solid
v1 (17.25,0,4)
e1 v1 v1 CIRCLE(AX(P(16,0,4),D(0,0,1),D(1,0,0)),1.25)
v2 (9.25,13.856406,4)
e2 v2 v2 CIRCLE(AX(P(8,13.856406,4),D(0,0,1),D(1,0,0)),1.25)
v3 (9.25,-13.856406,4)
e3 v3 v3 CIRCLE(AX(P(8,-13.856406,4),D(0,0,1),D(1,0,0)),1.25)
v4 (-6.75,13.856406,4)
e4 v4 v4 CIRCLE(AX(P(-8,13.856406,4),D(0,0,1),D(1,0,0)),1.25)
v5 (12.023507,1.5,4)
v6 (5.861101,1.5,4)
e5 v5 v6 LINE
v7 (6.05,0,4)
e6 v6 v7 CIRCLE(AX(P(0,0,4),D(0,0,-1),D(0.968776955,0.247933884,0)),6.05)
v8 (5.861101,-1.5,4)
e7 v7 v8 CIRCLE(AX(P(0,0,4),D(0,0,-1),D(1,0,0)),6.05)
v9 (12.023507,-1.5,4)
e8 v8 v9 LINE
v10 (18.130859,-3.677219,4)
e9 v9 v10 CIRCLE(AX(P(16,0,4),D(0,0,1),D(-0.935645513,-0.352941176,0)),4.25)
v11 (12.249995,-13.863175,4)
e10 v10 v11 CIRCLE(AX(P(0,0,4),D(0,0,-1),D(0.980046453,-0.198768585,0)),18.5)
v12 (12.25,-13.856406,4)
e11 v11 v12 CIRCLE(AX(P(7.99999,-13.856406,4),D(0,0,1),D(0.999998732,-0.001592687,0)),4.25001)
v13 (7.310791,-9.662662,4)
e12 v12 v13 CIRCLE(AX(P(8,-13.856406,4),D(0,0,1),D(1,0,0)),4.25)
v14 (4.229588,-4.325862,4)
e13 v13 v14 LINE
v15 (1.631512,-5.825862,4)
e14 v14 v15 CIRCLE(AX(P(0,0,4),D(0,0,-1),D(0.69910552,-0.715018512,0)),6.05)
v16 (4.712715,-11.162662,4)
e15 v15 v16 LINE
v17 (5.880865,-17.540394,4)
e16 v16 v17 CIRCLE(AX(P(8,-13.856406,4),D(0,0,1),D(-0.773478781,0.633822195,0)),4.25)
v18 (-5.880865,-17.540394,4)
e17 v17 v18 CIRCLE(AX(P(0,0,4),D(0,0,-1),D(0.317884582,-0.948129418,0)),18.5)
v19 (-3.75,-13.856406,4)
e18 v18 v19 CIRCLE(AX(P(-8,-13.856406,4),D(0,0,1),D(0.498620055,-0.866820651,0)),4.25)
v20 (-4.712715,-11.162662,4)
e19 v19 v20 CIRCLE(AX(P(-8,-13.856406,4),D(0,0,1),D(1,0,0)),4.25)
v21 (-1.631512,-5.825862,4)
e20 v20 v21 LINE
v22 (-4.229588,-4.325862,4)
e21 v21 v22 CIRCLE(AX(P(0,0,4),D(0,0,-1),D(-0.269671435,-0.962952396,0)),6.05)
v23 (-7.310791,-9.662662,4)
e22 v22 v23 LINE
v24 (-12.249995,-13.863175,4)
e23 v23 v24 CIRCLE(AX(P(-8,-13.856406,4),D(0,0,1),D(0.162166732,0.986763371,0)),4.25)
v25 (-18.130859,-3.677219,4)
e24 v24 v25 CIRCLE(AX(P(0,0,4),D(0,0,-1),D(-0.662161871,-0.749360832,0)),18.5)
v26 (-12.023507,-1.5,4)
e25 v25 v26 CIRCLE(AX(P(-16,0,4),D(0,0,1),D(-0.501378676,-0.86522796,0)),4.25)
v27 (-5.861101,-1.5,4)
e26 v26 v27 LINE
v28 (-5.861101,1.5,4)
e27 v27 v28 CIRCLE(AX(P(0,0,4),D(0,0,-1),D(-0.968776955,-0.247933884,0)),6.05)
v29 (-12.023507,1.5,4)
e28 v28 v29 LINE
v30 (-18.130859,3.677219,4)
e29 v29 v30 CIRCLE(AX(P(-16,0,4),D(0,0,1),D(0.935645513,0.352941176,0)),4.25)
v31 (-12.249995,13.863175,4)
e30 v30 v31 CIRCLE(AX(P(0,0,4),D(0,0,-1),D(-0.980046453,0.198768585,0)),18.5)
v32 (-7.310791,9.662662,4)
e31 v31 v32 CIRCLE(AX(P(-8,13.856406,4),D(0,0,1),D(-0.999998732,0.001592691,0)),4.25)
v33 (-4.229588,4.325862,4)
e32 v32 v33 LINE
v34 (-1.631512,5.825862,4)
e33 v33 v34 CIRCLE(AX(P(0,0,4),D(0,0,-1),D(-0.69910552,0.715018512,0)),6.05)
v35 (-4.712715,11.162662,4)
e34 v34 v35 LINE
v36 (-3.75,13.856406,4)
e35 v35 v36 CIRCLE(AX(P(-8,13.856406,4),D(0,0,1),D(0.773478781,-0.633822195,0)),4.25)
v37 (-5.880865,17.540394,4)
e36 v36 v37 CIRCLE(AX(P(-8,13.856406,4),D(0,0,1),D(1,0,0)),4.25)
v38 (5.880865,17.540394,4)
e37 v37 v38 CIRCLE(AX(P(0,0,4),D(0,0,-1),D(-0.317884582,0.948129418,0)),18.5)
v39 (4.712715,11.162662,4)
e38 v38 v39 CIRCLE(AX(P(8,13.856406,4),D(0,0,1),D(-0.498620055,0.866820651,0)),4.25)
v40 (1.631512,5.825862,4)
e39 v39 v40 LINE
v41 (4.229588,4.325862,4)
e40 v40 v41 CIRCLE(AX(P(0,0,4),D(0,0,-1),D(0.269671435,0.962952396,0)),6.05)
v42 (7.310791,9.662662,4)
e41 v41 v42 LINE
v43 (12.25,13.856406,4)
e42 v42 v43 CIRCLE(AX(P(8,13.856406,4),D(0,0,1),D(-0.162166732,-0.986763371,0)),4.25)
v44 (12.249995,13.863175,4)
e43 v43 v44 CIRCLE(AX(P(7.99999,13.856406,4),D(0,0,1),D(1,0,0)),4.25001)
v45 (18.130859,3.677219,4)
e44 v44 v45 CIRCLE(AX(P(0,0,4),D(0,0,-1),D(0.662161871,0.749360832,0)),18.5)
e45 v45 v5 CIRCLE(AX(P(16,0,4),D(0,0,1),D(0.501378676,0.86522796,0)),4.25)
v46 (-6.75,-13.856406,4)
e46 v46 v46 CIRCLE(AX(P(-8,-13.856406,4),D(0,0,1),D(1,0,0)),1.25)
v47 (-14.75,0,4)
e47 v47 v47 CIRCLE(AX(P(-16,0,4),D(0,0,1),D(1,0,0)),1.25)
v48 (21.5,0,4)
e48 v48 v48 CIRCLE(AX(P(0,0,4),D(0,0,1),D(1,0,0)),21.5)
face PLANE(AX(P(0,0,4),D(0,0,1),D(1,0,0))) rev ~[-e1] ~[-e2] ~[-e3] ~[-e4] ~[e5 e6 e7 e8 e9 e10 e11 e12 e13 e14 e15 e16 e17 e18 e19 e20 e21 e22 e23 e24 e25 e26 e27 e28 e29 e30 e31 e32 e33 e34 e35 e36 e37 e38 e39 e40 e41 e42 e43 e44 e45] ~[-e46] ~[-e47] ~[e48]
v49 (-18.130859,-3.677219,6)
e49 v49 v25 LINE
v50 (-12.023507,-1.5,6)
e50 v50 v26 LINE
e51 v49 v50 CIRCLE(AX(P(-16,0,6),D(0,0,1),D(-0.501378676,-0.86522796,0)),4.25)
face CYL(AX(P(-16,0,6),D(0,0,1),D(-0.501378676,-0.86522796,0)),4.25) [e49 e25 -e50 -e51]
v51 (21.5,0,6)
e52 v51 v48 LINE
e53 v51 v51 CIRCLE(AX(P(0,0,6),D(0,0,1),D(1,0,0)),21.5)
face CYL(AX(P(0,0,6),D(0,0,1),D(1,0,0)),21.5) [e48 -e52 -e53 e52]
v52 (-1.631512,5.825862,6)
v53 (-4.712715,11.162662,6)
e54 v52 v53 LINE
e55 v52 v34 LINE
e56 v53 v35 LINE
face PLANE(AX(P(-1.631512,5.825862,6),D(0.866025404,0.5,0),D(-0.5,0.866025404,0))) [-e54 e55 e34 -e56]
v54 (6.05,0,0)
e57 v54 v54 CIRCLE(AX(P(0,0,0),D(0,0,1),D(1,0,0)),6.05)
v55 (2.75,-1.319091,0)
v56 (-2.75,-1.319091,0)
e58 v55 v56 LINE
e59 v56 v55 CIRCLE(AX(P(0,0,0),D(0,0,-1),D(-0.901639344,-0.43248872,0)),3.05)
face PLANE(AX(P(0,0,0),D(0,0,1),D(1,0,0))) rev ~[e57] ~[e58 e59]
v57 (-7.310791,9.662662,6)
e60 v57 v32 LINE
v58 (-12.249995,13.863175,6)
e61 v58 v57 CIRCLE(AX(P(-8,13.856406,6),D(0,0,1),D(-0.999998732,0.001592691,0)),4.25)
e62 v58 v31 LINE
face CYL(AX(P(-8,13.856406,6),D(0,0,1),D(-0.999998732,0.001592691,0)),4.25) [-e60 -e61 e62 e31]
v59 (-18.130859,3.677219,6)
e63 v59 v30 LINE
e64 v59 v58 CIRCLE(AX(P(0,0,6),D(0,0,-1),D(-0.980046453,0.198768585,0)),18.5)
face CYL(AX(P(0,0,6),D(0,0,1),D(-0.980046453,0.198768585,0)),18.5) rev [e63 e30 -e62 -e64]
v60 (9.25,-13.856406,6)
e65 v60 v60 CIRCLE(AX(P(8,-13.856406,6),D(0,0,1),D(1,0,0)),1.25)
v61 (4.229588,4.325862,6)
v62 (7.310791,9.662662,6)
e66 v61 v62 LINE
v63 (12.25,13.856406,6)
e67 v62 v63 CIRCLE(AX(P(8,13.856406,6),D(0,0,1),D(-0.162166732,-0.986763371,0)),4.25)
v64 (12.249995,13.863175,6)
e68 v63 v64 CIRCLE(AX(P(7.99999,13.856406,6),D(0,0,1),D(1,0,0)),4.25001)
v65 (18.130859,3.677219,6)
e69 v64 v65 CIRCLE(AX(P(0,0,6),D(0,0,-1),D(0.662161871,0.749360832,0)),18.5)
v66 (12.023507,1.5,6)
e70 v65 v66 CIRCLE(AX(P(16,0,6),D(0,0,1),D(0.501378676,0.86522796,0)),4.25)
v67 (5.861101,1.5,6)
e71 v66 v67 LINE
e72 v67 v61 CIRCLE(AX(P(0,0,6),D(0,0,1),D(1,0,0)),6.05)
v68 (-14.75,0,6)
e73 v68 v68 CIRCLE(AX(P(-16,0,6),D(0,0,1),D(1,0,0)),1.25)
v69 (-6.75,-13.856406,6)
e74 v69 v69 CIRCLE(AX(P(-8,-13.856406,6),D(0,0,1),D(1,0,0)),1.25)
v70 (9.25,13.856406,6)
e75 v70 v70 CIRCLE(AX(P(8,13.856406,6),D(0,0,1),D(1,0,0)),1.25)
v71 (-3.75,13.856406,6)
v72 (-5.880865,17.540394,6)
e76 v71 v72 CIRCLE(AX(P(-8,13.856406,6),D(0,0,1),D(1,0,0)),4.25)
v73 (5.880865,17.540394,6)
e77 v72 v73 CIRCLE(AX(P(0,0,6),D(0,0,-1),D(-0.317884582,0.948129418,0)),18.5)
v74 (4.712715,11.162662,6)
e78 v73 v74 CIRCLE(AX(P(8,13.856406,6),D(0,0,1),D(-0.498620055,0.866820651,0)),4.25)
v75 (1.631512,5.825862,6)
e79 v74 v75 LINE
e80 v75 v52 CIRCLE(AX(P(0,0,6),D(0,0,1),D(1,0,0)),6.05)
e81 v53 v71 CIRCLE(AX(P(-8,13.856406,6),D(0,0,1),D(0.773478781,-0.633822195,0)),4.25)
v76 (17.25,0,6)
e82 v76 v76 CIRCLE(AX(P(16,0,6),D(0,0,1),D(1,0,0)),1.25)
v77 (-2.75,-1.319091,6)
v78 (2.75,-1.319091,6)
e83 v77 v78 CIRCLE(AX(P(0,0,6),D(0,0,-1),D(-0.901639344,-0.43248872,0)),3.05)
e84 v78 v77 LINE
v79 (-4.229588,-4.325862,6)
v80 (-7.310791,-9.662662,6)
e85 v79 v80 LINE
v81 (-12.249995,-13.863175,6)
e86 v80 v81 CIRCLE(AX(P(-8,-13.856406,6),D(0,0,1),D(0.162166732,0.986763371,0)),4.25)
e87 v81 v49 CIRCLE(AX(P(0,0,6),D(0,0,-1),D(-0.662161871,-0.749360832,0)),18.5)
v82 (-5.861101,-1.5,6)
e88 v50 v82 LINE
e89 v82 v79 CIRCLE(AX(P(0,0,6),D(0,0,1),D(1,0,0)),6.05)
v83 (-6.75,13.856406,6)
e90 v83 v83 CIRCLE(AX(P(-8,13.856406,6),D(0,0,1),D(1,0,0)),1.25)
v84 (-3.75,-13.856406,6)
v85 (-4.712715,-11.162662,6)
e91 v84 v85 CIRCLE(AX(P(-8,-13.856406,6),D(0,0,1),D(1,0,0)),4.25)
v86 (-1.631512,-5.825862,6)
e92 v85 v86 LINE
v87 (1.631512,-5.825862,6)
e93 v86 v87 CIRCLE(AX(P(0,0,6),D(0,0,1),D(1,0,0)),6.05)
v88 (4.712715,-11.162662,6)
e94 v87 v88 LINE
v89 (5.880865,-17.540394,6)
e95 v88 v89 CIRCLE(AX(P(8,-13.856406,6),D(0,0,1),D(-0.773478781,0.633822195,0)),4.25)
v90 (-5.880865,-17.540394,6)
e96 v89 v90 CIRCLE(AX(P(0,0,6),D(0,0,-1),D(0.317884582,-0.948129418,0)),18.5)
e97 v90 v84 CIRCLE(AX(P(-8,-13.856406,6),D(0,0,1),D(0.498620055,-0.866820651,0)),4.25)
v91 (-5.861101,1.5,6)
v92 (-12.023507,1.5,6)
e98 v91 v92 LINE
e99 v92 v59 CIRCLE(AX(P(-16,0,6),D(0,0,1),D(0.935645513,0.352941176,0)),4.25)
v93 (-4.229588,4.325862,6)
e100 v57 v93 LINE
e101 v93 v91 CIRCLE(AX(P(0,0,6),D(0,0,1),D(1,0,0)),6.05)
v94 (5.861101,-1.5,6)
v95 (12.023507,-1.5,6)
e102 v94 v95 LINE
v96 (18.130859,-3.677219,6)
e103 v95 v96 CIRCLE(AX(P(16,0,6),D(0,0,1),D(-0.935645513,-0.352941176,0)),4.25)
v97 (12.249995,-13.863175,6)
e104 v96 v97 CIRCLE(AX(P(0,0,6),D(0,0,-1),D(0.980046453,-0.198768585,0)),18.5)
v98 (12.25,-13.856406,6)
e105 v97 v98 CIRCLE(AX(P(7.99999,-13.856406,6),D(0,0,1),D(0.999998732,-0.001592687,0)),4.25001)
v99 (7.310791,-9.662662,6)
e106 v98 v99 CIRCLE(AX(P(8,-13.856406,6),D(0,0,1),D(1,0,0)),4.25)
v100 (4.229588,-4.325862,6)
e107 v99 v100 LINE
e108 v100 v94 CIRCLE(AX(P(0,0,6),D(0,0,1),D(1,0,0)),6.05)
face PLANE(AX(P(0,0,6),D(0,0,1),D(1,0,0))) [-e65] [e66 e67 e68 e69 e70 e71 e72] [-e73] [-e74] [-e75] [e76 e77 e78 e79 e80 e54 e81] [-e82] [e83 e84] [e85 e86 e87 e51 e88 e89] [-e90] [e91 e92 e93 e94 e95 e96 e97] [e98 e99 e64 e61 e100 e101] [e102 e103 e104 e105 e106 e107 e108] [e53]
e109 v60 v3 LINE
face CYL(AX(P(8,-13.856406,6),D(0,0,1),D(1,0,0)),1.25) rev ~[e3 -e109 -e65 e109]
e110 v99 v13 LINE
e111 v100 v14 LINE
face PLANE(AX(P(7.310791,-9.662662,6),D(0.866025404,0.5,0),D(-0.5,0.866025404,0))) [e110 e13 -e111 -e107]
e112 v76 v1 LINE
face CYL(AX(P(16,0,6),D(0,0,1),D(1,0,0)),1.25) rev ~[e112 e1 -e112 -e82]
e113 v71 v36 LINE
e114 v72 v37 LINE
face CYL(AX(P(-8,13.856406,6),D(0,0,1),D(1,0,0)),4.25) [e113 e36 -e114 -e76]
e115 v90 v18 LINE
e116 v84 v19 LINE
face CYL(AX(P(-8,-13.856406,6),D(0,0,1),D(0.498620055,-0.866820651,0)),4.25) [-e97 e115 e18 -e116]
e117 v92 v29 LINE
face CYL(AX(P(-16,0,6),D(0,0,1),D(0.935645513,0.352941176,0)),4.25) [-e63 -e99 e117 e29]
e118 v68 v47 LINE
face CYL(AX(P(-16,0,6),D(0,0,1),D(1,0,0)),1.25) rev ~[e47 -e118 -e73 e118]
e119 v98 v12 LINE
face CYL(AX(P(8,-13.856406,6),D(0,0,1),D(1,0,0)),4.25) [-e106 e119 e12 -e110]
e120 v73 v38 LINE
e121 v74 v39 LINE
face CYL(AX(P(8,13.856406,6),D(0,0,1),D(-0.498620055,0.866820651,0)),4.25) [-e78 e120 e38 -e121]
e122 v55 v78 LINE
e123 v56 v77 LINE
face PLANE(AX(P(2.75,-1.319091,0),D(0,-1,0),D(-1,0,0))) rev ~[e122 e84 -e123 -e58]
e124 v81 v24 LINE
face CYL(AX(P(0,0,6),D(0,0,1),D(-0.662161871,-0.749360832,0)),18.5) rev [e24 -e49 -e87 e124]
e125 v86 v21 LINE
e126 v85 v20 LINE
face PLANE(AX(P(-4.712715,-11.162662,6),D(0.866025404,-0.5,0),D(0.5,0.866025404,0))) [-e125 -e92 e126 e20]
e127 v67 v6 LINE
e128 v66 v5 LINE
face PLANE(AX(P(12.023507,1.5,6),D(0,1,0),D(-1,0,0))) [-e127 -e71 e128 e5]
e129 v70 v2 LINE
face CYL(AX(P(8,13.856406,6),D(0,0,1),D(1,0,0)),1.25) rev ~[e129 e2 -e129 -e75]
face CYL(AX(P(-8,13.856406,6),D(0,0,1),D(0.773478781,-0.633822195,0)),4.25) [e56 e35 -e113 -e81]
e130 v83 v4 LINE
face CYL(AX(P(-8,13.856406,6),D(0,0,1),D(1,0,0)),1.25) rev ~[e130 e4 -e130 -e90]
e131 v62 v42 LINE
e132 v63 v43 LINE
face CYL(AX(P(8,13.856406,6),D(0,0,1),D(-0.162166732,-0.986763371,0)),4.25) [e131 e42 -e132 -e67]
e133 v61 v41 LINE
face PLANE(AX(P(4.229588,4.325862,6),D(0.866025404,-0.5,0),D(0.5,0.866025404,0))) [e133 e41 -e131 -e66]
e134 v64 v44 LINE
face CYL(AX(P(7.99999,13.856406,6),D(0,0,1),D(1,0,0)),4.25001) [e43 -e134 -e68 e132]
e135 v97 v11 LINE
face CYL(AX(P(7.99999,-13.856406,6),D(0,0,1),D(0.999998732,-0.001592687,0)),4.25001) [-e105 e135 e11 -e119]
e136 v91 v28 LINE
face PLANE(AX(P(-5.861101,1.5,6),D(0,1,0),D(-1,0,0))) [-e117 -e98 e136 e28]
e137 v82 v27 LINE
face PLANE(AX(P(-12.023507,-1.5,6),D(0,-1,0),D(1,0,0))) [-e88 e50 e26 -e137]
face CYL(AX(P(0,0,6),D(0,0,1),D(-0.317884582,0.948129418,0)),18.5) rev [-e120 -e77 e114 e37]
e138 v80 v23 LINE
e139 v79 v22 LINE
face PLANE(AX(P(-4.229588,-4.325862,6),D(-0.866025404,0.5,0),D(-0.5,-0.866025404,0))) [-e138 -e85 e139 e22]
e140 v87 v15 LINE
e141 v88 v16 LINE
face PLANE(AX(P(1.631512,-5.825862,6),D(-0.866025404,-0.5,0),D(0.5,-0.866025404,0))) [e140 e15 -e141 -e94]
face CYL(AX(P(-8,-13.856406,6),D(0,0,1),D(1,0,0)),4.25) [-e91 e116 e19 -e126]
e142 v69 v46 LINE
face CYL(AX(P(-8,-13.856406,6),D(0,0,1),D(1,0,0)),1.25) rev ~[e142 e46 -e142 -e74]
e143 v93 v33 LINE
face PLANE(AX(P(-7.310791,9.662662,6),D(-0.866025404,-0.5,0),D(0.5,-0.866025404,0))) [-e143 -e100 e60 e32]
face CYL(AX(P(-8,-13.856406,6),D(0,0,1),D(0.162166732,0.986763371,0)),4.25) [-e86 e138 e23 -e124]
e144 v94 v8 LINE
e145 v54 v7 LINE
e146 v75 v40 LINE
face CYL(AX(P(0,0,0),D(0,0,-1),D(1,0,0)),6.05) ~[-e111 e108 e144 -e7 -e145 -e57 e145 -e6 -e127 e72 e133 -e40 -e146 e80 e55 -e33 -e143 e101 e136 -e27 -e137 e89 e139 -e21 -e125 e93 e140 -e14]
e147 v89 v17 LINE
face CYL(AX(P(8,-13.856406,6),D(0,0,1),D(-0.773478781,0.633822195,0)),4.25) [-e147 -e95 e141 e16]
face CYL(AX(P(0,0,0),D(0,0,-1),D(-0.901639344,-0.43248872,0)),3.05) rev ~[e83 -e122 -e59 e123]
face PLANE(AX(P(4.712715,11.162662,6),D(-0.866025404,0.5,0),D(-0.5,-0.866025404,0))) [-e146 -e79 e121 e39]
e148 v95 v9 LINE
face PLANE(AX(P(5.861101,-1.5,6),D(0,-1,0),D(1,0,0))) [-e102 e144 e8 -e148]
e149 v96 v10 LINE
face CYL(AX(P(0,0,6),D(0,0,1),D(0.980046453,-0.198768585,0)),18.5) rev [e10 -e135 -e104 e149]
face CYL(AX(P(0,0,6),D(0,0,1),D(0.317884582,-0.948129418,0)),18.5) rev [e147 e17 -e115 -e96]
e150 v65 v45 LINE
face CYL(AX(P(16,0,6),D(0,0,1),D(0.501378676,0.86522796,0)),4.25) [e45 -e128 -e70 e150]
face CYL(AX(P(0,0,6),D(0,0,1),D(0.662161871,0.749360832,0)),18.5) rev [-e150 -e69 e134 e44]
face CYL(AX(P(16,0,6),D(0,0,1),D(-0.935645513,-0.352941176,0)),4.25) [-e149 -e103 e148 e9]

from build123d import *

# Parameters (mm, degrees)
F0_R     = 6.05
F1_DEPTH = 6
F2_R     = 21.5
F2_R_2   = 1.25
F3_DEPTH = 2


with BuildPart() as f1:
    # F0 (on Top) → F1 (new body)
    with BuildSketch(Plane.XY):
        Circle(F0_R)
        with BuildLine():
            Line((2.75, -1.3190905958), (-2.75, -1.3190905958))
            ThreePointArc((-2.75, -1.3190905958), (0, 3.05), (2.75, -1.3190905958))
        make_face(mode=Mode.SUBTRACT)
    extrude(amount=F1_DEPTH)

    # F2 (on face) → F3 (join)
    with BuildSketch(Plane.XY.offset(6)):
        Circle(F2_R)
        with BuildLine():
            ThreePointArc((12.2499946096, 13.8631753962), (16.02146997, 9.25), (18.130859375, 3.67721883))
            ThreePointArc((18.130859375, 3.67721883), (19.6822990335, 2.1220682902), (20.25, 0))
            ThreePointArc((20.25, 0), (19.6822990335, -2.1220682902), (18.130859375, -3.67721883))
            ThreePointArc((18.130859375, -3.67721883), (16.02146997, -9.25), (12.2499946096, -13.8631753962))
            ThreePointArc((12.2499946096, -13.8631753962), (10.125, -17.5370144266), (5.8808647654, -17.5403942262))
            ThreePointArc((5.8808647654, -17.5403942262), (0, -18.5), (-5.8808647654, -17.5403942262))
            ThreePointArc((-5.8808647654, -17.5403942262), (-10.125, -17.5370144266), (-12.2499946096, -13.8631753962))
            ThreePointArc((-12.2499946096, -13.8631753962), (-16.02146997, -9.25), (-18.130859375, -3.67721883))
            ThreePointArc((-18.130859375, -3.67721883), (-20.25, 0), (-18.130859375, 3.67721883))
            ThreePointArc((-18.130859375, 3.67721883), (-16.02146997, 9.25), (-12.2499946096, 13.8631753962))
            ThreePointArc((-12.2499946096, 13.8631753962), (-10.125, 17.5370144266), (-5.8808647654, 17.5403942262))
            ThreePointArc((-5.8808647654, 17.5403942262), (0, 18.5), (5.8808647654, 17.5403942262))
            ThreePointArc((5.8808647654, 17.5403942262), (10.125, 17.5370144266), (12.2499946096, 13.8631753962))
        make_face(mode=Mode.SUBTRACT)
        with BuildLine():
            ThreePointArc((-12.0235065699, 1.5), (-14.5728834228, 4.0032284815), (-18.130859375, 3.67721883))
            ThreePointArc((-18.130859375, 3.67721883), (-18.5, 0), (-18.130859375, -3.67721883))
            ThreePointArc((-18.130859375, -3.67721883), (-14.5728834228, -4.0032284815), (-12.0235065699, -1.5))
            Line((-12.0235065699, -1.5), (-14, -1.5))
            Line((-14, -1.5), (-14, 1.5))
            Line((-14, 1.5), (-12.0235065699, 1.5))
        make_face()
        with Locations((-16, 0)):
            Circle(F2_R_2, mode=Mode.SUBTRACT)
        with BuildLine():
            ThreePointArc((-3.75, 13.8564064606), (-4.3210854354, 15.9843368228), (-5.8808647654, 17.5403942262))
            ThreePointArc((-5.8808647654, 17.5403942262), (-9.25, 16.02146997), (-12.2499946096, 13.8631753962))
            ThreePointArc((-12.2499946096, 13.8631753962), (-10.7533392736, 10.6188730098), (-7.3107913906, 9.6626621321))
            Line((-7.3107913906, 9.6626621321), (-8.2990381057, 11.374355653))
            Line((-8.2990381057, 11.374355653), (-5.7009618943, 12.874355653))
            Line((-5.7009618943, 12.874355653), (-4.7127151792, 11.1626621321))
            ThreePointArc((-4.7127151792, 11.1626621321), (-3.9979092659, 12.4261023824), (-3.75, 13.8564064606))
        make_face()
        with Locations((-8, 13.8564064606)):
            Circle(F2_R_2, mode=Mode.SUBTRACT)
        with BuildLine():
            ThreePointArc((12.25, 13.8564064606), (12.2499986524, 13.8597909294), (12.2499946096, 13.8631753962))
            ThreePointArc((12.2499946096, 13.8631753962), (9.25, 16.02146997), (5.8808647654, 17.5403942262))
            ThreePointArc((5.8808647654, 17.5403942262), (3.8195441493, 14.6221014913), (4.7127151792, 11.1626621321))
            Line((4.7127151792, 11.1626621321), (5.7009618943, 12.874355653))
            Line((5.7009618943, 12.874355653), (8.2990381057, 11.374355653))
            Line((8.2990381057, 11.374355653), (7.3107913906, 9.6626621321))
            ThreePointArc((7.3107913906, 9.6626621321), (10.7507602049, 10.6166814267), (12.25, 13.8564064606))
        make_face()
        with Locations((8, 13.8564064606)):
            Circle(F2_R_2, mode=Mode.SUBTRACT)
        with BuildLine():
            ThreePointArc((18.130859375, -3.67721883), (18.4074835113, -1.8478503135), (18.5, 0))
            ThreePointArc((18.5, 0), (18.4074835113, 1.8478503135), (18.130859375, 3.67721883))
            ThreePointArc((18.130859375, 3.67721883), (14.5728834228, 4.0032284815), (12.0235065699, 1.5))
            Line((12.0235065699, 1.5), (14, 1.5))
            Line((14, 1.5), (14, -1.5))
            Line((14, -1.5), (12.0235065699, -1.5))
            ThreePointArc((12.0235065699, -1.5), (14.5728834228, -4.0032284815), (18.130859375, -3.67721883))
        make_face()
        with Locations((16, 0)):
            Circle(F2_R_2, mode=Mode.SUBTRACT)
        with BuildLine():
            ThreePointArc((5.8808647654, -17.5403942262), (9.25, -16.02146997), (12.2499946096, -13.8631753962))
            ThreePointArc((12.2499946096, -13.8631753962), (12.2499986524, -13.8597909294), (12.25, -13.8564064606))
            ThreePointArc((12.25, -13.8564064606), (10.7507602049, -10.6166814267), (7.3107913906, -9.6626621321))
            Line((7.3107913906, -9.6626621321), (8.2990381057, -11.374355653))
            Line((8.2990381057, -11.374355653), (5.7009618943, -12.874355653))
            Line((5.7009618943, -12.874355653), (4.7127151792, -11.1626621321))
            ThreePointArc((4.7127151792, -11.1626621321), (3.8195441493, -14.6221014913), (5.8808647654, -17.5403942262))
        make_face()
        with Locations((8, -13.8564064606)):
            Circle(F2_R_2, mode=Mode.SUBTRACT)
        with BuildLine():
            ThreePointArc((-12.2499946096, -13.8631753962), (-9.25, -16.02146997), (-5.8808647654, -17.5403942262))
            ThreePointArc((-5.8808647654, -17.5403942262), (-4.3210854354, -15.9843368228), (-3.75, -13.8564064606))
            ThreePointArc((-3.75, -13.8564064606), (-3.9979092659, -12.4261023824), (-4.7127151792, -11.1626621321))
            Line((-4.7127151792, -11.1626621321), (-5.7009618943, -12.874355653))
            Line((-5.7009618943, -12.874355653), (-8.2990381057, -11.374355653))
            Line((-8.2990381057, -11.374355653), (-7.3107913906, -9.6626621321))
            ThreePointArc((-7.3107913906, -9.6626621321), (-10.7533392736, -10.6188730098), (-12.2499946096, -13.8631753962))
        make_face()
        with Locations((-8, -13.8564064606)):
            Circle(F2_R_2, mode=Mode.SUBTRACT)
        with BuildLine():
            ThreePointArc((-12.2499946096, 13.8631753962), (-9.25, 16.02146997), (-5.8808647654, 17.5403942262))
            ThreePointArc((-5.8808647654, 17.5403942262), (-10.125, 17.5370144266), (-12.2499946096, 13.8631753962))
        make_face()
        with BuildLine():
            ThreePointArc((-18.130859375, -3.67721883), (-18.5, 0), (-18.130859375, 3.67721883))
            ThreePointArc((-18.130859375, 3.67721883), (-20.25, 0), (-18.130859375, -3.67721883))
        make_face()
        with BuildLine():
            ThreePointArc((-12.2499946096, -13.8631753962), (-10.125, -17.5370144266), (-5.8808647654, -17.5403942262))
            ThreePointArc((-5.8808647654, -17.5403942262), (-9.25, -16.02146997), (-12.2499946096, -13.8631753962))
        make_face()
        with BuildLine():
            ThreePointArc((5.8808647654, -17.5403942262), (10.125, -17.5370144266), (12.2499946096, -13.8631753962))
            ThreePointArc((12.2499946096, -13.8631753962), (9.25, -16.02146997), (5.8808647654, -17.5403942262))
        make_face()
        with BuildLine():
            ThreePointArc((18.130859375, 3.67721883), (18.4074835113, 1.8478503135), (18.5, 0))
            ThreePointArc((18.5, 0), (18.4074835113, -1.8478503135), (18.130859375, -3.67721883))
            ThreePointArc((18.130859375, -3.67721883), (19.6822990335, -2.1220682902), (20.25, 0))
            ThreePointArc((20.25, 0), (19.6822990335, 2.1220682902), (18.130859375, 3.67721883))
        make_face()
        with BuildLine():
            ThreePointArc((5.8808647654, 17.5403942262), (9.25, 16.02146997), (12.2499946096, 13.8631753962))
            ThreePointArc((12.2499946096, 13.8631753962), (10.125, 17.5370144266), (5.8808647654, 17.5403942262))
        make_face()
        with BuildLine():
            ThreePointArc((-4.7127151792, 11.1626621321), (-5.875, 10.1757984945), (-7.3107913906, 9.6626621321))
            Line((-7.3107913906, 9.6626621321), (-4.2295883953, 4.3258619958))
            ThreePointArc((-4.2295883953, 4.3258619958), (-3.025, 5.2394536929), (-1.6315121839, 5.8258619958))
            Line((-1.6315121839, 5.8258619958), (-4.7127151792, 11.1626621321))
        make_face()
        with BuildLine():
            Line((-8.2990381057, 11.374355653), (-7.3107913906, 9.6626621321))
            ThreePointArc((-7.3107913906, 9.6626621321), (-5.875, 10.1757984945), (-4.7127151792, 11.1626621321))
            Line((-4.7127151792, 11.1626621321), (-5.7009618943, 12.874355653))
            Line((-5.7009618943, 12.874355653), (-8.2990381057, 11.374355653))
        make_face()
        with BuildLine():
            Line((5.7009618943, 12.874355653), (4.7127151792, 11.1626621321))
            ThreePointArc((4.7127151792, 11.1626621321), (5.875, 10.1757984945), (7.3107913906, 9.6626621321))
            Line((7.3107913906, 9.6626621321), (8.2990381057, 11.374355653))
            Line((8.2990381057, 11.374355653), (5.7009618943, 12.874355653))
        make_face()
        with BuildLine():
            ThreePointArc((7.3107913906, 9.6626621321), (5.875, 10.1757984945), (4.7127151792, 11.1626621321))
            Line((4.7127151792, 11.1626621321), (1.6315121839, 5.8258619958))
            ThreePointArc((1.6315121839, 5.8258619958), (3.025, 5.2394536929), (4.2295883953, 4.3258619958))
            Line((4.2295883953, 4.3258619958), (7.3107913906, 9.6626621321))
        make_face()
        with BuildLine():
            ThreePointArc((12.0235065699, -1.5), (11.75, 0), (12.0235065699, 1.5))
            Line((12.0235065699, 1.5), (5.8611005792, 1.5))
            ThreePointArc((5.8611005792, 1.5), (6.0025893789, 0.7559237712), (6.05, 0))
            ThreePointArc((6.05, 0), (6.0025893789, -0.7559237712), (5.8611005792, -1.5))
            Line((5.8611005792, -1.5), (12.0235065699, -1.5))
        make_face()
        with BuildLine():
            Line((14, 1.5), (12.0235065699, 1.5))
            ThreePointArc((12.0235065699, 1.5), (11.75, 0), (12.0235065699, -1.5))
            Line((12.0235065699, -1.5), (14, -1.5))
            Line((14, -1.5), (14, 1.5))
        make_face()
        with BuildLine():
            Line((1.6315121839, -5.8258619958), (4.7127151792, -11.1626621321))
            ThreePointArc((4.7127151792, -11.1626621321), (5.875, -10.1757984945), (7.3107913906, -9.6626621321))
            Line((7.3107913906, -9.6626621321), (4.2295883953, -4.3258619958))
            ThreePointArc((4.2295883953, -4.3258619958), (3.025, -5.2394536929), (1.6315121839, -5.8258619958))
        make_face()
        with BuildLine():
            ThreePointArc((7.3107913906, -9.6626621321), (5.875, -10.1757984945), (4.7127151792, -11.1626621321))
            Line((4.7127151792, -11.1626621321), (5.7009618943, -12.874355653))
            Line((5.7009618943, -12.874355653), (8.2990381057, -11.374355653))
            Line((8.2990381057, -11.374355653), (7.3107913906, -9.6626621321))
        make_face()
        with BuildLine():
            Line((-4.2295883953, -4.3258619958), (-7.3107913906, -9.6626621321))
            ThreePointArc((-7.3107913906, -9.6626621321), (-5.875, -10.1757984945), (-4.7127151792, -11.1626621321))
            Line((-4.7127151792, -11.1626621321), (-1.6315121839, -5.8258619958))
            ThreePointArc((-1.6315121839, -5.8258619958), (-3.025, -5.2394536929), (-4.2295883953, -4.3258619958))
        make_face()
        with BuildLine():
            ThreePointArc((-4.7127151792, -11.1626621321), (-5.875, -10.1757984945), (-7.3107913906, -9.6626621321))
            Line((-7.3107913906, -9.6626621321), (-8.2990381057, -11.374355653))
            Line((-8.2990381057, -11.374355653), (-5.7009618943, -12.874355653))
            Line((-5.7009618943, -12.874355653), (-4.7127151792, -11.1626621321))
        make_face()
        with BuildLine():
            Line((-5.8611005792, 1.5), (-12.0235065699, 1.5))
            ThreePointArc((-12.0235065699, 1.5), (-11.8189357169, 0.7623657003), (-11.75, 0))
            ThreePointArc((-11.75, 0), (-11.8189357169, -0.7623657003), (-12.0235065699, -1.5))
            Line((-12.0235065699, -1.5), (-5.8611005792, -1.5))
            ThreePointArc((-5.8611005792, -1.5), (-6.05, 0), (-5.8611005792, 1.5))
        make_face()
        with BuildLine():
            ThreePointArc((-11.75, 0), (-11.8189357169, 0.7623657003), (-12.0235065699, 1.5))
            Line((-12.0235065699, 1.5), (-14, 1.5))
            Line((-14, 1.5), (-14, -1.5))
            Line((-14, -1.5), (-12.0235065699, -1.5))
            ThreePointArc((-12.0235065699, -1.5), (-11.8189357169, -0.7623657003), (-11.75, 0))
        make_face()
    extrude(amount=-F3_DEPTH)


solid = f1.part
